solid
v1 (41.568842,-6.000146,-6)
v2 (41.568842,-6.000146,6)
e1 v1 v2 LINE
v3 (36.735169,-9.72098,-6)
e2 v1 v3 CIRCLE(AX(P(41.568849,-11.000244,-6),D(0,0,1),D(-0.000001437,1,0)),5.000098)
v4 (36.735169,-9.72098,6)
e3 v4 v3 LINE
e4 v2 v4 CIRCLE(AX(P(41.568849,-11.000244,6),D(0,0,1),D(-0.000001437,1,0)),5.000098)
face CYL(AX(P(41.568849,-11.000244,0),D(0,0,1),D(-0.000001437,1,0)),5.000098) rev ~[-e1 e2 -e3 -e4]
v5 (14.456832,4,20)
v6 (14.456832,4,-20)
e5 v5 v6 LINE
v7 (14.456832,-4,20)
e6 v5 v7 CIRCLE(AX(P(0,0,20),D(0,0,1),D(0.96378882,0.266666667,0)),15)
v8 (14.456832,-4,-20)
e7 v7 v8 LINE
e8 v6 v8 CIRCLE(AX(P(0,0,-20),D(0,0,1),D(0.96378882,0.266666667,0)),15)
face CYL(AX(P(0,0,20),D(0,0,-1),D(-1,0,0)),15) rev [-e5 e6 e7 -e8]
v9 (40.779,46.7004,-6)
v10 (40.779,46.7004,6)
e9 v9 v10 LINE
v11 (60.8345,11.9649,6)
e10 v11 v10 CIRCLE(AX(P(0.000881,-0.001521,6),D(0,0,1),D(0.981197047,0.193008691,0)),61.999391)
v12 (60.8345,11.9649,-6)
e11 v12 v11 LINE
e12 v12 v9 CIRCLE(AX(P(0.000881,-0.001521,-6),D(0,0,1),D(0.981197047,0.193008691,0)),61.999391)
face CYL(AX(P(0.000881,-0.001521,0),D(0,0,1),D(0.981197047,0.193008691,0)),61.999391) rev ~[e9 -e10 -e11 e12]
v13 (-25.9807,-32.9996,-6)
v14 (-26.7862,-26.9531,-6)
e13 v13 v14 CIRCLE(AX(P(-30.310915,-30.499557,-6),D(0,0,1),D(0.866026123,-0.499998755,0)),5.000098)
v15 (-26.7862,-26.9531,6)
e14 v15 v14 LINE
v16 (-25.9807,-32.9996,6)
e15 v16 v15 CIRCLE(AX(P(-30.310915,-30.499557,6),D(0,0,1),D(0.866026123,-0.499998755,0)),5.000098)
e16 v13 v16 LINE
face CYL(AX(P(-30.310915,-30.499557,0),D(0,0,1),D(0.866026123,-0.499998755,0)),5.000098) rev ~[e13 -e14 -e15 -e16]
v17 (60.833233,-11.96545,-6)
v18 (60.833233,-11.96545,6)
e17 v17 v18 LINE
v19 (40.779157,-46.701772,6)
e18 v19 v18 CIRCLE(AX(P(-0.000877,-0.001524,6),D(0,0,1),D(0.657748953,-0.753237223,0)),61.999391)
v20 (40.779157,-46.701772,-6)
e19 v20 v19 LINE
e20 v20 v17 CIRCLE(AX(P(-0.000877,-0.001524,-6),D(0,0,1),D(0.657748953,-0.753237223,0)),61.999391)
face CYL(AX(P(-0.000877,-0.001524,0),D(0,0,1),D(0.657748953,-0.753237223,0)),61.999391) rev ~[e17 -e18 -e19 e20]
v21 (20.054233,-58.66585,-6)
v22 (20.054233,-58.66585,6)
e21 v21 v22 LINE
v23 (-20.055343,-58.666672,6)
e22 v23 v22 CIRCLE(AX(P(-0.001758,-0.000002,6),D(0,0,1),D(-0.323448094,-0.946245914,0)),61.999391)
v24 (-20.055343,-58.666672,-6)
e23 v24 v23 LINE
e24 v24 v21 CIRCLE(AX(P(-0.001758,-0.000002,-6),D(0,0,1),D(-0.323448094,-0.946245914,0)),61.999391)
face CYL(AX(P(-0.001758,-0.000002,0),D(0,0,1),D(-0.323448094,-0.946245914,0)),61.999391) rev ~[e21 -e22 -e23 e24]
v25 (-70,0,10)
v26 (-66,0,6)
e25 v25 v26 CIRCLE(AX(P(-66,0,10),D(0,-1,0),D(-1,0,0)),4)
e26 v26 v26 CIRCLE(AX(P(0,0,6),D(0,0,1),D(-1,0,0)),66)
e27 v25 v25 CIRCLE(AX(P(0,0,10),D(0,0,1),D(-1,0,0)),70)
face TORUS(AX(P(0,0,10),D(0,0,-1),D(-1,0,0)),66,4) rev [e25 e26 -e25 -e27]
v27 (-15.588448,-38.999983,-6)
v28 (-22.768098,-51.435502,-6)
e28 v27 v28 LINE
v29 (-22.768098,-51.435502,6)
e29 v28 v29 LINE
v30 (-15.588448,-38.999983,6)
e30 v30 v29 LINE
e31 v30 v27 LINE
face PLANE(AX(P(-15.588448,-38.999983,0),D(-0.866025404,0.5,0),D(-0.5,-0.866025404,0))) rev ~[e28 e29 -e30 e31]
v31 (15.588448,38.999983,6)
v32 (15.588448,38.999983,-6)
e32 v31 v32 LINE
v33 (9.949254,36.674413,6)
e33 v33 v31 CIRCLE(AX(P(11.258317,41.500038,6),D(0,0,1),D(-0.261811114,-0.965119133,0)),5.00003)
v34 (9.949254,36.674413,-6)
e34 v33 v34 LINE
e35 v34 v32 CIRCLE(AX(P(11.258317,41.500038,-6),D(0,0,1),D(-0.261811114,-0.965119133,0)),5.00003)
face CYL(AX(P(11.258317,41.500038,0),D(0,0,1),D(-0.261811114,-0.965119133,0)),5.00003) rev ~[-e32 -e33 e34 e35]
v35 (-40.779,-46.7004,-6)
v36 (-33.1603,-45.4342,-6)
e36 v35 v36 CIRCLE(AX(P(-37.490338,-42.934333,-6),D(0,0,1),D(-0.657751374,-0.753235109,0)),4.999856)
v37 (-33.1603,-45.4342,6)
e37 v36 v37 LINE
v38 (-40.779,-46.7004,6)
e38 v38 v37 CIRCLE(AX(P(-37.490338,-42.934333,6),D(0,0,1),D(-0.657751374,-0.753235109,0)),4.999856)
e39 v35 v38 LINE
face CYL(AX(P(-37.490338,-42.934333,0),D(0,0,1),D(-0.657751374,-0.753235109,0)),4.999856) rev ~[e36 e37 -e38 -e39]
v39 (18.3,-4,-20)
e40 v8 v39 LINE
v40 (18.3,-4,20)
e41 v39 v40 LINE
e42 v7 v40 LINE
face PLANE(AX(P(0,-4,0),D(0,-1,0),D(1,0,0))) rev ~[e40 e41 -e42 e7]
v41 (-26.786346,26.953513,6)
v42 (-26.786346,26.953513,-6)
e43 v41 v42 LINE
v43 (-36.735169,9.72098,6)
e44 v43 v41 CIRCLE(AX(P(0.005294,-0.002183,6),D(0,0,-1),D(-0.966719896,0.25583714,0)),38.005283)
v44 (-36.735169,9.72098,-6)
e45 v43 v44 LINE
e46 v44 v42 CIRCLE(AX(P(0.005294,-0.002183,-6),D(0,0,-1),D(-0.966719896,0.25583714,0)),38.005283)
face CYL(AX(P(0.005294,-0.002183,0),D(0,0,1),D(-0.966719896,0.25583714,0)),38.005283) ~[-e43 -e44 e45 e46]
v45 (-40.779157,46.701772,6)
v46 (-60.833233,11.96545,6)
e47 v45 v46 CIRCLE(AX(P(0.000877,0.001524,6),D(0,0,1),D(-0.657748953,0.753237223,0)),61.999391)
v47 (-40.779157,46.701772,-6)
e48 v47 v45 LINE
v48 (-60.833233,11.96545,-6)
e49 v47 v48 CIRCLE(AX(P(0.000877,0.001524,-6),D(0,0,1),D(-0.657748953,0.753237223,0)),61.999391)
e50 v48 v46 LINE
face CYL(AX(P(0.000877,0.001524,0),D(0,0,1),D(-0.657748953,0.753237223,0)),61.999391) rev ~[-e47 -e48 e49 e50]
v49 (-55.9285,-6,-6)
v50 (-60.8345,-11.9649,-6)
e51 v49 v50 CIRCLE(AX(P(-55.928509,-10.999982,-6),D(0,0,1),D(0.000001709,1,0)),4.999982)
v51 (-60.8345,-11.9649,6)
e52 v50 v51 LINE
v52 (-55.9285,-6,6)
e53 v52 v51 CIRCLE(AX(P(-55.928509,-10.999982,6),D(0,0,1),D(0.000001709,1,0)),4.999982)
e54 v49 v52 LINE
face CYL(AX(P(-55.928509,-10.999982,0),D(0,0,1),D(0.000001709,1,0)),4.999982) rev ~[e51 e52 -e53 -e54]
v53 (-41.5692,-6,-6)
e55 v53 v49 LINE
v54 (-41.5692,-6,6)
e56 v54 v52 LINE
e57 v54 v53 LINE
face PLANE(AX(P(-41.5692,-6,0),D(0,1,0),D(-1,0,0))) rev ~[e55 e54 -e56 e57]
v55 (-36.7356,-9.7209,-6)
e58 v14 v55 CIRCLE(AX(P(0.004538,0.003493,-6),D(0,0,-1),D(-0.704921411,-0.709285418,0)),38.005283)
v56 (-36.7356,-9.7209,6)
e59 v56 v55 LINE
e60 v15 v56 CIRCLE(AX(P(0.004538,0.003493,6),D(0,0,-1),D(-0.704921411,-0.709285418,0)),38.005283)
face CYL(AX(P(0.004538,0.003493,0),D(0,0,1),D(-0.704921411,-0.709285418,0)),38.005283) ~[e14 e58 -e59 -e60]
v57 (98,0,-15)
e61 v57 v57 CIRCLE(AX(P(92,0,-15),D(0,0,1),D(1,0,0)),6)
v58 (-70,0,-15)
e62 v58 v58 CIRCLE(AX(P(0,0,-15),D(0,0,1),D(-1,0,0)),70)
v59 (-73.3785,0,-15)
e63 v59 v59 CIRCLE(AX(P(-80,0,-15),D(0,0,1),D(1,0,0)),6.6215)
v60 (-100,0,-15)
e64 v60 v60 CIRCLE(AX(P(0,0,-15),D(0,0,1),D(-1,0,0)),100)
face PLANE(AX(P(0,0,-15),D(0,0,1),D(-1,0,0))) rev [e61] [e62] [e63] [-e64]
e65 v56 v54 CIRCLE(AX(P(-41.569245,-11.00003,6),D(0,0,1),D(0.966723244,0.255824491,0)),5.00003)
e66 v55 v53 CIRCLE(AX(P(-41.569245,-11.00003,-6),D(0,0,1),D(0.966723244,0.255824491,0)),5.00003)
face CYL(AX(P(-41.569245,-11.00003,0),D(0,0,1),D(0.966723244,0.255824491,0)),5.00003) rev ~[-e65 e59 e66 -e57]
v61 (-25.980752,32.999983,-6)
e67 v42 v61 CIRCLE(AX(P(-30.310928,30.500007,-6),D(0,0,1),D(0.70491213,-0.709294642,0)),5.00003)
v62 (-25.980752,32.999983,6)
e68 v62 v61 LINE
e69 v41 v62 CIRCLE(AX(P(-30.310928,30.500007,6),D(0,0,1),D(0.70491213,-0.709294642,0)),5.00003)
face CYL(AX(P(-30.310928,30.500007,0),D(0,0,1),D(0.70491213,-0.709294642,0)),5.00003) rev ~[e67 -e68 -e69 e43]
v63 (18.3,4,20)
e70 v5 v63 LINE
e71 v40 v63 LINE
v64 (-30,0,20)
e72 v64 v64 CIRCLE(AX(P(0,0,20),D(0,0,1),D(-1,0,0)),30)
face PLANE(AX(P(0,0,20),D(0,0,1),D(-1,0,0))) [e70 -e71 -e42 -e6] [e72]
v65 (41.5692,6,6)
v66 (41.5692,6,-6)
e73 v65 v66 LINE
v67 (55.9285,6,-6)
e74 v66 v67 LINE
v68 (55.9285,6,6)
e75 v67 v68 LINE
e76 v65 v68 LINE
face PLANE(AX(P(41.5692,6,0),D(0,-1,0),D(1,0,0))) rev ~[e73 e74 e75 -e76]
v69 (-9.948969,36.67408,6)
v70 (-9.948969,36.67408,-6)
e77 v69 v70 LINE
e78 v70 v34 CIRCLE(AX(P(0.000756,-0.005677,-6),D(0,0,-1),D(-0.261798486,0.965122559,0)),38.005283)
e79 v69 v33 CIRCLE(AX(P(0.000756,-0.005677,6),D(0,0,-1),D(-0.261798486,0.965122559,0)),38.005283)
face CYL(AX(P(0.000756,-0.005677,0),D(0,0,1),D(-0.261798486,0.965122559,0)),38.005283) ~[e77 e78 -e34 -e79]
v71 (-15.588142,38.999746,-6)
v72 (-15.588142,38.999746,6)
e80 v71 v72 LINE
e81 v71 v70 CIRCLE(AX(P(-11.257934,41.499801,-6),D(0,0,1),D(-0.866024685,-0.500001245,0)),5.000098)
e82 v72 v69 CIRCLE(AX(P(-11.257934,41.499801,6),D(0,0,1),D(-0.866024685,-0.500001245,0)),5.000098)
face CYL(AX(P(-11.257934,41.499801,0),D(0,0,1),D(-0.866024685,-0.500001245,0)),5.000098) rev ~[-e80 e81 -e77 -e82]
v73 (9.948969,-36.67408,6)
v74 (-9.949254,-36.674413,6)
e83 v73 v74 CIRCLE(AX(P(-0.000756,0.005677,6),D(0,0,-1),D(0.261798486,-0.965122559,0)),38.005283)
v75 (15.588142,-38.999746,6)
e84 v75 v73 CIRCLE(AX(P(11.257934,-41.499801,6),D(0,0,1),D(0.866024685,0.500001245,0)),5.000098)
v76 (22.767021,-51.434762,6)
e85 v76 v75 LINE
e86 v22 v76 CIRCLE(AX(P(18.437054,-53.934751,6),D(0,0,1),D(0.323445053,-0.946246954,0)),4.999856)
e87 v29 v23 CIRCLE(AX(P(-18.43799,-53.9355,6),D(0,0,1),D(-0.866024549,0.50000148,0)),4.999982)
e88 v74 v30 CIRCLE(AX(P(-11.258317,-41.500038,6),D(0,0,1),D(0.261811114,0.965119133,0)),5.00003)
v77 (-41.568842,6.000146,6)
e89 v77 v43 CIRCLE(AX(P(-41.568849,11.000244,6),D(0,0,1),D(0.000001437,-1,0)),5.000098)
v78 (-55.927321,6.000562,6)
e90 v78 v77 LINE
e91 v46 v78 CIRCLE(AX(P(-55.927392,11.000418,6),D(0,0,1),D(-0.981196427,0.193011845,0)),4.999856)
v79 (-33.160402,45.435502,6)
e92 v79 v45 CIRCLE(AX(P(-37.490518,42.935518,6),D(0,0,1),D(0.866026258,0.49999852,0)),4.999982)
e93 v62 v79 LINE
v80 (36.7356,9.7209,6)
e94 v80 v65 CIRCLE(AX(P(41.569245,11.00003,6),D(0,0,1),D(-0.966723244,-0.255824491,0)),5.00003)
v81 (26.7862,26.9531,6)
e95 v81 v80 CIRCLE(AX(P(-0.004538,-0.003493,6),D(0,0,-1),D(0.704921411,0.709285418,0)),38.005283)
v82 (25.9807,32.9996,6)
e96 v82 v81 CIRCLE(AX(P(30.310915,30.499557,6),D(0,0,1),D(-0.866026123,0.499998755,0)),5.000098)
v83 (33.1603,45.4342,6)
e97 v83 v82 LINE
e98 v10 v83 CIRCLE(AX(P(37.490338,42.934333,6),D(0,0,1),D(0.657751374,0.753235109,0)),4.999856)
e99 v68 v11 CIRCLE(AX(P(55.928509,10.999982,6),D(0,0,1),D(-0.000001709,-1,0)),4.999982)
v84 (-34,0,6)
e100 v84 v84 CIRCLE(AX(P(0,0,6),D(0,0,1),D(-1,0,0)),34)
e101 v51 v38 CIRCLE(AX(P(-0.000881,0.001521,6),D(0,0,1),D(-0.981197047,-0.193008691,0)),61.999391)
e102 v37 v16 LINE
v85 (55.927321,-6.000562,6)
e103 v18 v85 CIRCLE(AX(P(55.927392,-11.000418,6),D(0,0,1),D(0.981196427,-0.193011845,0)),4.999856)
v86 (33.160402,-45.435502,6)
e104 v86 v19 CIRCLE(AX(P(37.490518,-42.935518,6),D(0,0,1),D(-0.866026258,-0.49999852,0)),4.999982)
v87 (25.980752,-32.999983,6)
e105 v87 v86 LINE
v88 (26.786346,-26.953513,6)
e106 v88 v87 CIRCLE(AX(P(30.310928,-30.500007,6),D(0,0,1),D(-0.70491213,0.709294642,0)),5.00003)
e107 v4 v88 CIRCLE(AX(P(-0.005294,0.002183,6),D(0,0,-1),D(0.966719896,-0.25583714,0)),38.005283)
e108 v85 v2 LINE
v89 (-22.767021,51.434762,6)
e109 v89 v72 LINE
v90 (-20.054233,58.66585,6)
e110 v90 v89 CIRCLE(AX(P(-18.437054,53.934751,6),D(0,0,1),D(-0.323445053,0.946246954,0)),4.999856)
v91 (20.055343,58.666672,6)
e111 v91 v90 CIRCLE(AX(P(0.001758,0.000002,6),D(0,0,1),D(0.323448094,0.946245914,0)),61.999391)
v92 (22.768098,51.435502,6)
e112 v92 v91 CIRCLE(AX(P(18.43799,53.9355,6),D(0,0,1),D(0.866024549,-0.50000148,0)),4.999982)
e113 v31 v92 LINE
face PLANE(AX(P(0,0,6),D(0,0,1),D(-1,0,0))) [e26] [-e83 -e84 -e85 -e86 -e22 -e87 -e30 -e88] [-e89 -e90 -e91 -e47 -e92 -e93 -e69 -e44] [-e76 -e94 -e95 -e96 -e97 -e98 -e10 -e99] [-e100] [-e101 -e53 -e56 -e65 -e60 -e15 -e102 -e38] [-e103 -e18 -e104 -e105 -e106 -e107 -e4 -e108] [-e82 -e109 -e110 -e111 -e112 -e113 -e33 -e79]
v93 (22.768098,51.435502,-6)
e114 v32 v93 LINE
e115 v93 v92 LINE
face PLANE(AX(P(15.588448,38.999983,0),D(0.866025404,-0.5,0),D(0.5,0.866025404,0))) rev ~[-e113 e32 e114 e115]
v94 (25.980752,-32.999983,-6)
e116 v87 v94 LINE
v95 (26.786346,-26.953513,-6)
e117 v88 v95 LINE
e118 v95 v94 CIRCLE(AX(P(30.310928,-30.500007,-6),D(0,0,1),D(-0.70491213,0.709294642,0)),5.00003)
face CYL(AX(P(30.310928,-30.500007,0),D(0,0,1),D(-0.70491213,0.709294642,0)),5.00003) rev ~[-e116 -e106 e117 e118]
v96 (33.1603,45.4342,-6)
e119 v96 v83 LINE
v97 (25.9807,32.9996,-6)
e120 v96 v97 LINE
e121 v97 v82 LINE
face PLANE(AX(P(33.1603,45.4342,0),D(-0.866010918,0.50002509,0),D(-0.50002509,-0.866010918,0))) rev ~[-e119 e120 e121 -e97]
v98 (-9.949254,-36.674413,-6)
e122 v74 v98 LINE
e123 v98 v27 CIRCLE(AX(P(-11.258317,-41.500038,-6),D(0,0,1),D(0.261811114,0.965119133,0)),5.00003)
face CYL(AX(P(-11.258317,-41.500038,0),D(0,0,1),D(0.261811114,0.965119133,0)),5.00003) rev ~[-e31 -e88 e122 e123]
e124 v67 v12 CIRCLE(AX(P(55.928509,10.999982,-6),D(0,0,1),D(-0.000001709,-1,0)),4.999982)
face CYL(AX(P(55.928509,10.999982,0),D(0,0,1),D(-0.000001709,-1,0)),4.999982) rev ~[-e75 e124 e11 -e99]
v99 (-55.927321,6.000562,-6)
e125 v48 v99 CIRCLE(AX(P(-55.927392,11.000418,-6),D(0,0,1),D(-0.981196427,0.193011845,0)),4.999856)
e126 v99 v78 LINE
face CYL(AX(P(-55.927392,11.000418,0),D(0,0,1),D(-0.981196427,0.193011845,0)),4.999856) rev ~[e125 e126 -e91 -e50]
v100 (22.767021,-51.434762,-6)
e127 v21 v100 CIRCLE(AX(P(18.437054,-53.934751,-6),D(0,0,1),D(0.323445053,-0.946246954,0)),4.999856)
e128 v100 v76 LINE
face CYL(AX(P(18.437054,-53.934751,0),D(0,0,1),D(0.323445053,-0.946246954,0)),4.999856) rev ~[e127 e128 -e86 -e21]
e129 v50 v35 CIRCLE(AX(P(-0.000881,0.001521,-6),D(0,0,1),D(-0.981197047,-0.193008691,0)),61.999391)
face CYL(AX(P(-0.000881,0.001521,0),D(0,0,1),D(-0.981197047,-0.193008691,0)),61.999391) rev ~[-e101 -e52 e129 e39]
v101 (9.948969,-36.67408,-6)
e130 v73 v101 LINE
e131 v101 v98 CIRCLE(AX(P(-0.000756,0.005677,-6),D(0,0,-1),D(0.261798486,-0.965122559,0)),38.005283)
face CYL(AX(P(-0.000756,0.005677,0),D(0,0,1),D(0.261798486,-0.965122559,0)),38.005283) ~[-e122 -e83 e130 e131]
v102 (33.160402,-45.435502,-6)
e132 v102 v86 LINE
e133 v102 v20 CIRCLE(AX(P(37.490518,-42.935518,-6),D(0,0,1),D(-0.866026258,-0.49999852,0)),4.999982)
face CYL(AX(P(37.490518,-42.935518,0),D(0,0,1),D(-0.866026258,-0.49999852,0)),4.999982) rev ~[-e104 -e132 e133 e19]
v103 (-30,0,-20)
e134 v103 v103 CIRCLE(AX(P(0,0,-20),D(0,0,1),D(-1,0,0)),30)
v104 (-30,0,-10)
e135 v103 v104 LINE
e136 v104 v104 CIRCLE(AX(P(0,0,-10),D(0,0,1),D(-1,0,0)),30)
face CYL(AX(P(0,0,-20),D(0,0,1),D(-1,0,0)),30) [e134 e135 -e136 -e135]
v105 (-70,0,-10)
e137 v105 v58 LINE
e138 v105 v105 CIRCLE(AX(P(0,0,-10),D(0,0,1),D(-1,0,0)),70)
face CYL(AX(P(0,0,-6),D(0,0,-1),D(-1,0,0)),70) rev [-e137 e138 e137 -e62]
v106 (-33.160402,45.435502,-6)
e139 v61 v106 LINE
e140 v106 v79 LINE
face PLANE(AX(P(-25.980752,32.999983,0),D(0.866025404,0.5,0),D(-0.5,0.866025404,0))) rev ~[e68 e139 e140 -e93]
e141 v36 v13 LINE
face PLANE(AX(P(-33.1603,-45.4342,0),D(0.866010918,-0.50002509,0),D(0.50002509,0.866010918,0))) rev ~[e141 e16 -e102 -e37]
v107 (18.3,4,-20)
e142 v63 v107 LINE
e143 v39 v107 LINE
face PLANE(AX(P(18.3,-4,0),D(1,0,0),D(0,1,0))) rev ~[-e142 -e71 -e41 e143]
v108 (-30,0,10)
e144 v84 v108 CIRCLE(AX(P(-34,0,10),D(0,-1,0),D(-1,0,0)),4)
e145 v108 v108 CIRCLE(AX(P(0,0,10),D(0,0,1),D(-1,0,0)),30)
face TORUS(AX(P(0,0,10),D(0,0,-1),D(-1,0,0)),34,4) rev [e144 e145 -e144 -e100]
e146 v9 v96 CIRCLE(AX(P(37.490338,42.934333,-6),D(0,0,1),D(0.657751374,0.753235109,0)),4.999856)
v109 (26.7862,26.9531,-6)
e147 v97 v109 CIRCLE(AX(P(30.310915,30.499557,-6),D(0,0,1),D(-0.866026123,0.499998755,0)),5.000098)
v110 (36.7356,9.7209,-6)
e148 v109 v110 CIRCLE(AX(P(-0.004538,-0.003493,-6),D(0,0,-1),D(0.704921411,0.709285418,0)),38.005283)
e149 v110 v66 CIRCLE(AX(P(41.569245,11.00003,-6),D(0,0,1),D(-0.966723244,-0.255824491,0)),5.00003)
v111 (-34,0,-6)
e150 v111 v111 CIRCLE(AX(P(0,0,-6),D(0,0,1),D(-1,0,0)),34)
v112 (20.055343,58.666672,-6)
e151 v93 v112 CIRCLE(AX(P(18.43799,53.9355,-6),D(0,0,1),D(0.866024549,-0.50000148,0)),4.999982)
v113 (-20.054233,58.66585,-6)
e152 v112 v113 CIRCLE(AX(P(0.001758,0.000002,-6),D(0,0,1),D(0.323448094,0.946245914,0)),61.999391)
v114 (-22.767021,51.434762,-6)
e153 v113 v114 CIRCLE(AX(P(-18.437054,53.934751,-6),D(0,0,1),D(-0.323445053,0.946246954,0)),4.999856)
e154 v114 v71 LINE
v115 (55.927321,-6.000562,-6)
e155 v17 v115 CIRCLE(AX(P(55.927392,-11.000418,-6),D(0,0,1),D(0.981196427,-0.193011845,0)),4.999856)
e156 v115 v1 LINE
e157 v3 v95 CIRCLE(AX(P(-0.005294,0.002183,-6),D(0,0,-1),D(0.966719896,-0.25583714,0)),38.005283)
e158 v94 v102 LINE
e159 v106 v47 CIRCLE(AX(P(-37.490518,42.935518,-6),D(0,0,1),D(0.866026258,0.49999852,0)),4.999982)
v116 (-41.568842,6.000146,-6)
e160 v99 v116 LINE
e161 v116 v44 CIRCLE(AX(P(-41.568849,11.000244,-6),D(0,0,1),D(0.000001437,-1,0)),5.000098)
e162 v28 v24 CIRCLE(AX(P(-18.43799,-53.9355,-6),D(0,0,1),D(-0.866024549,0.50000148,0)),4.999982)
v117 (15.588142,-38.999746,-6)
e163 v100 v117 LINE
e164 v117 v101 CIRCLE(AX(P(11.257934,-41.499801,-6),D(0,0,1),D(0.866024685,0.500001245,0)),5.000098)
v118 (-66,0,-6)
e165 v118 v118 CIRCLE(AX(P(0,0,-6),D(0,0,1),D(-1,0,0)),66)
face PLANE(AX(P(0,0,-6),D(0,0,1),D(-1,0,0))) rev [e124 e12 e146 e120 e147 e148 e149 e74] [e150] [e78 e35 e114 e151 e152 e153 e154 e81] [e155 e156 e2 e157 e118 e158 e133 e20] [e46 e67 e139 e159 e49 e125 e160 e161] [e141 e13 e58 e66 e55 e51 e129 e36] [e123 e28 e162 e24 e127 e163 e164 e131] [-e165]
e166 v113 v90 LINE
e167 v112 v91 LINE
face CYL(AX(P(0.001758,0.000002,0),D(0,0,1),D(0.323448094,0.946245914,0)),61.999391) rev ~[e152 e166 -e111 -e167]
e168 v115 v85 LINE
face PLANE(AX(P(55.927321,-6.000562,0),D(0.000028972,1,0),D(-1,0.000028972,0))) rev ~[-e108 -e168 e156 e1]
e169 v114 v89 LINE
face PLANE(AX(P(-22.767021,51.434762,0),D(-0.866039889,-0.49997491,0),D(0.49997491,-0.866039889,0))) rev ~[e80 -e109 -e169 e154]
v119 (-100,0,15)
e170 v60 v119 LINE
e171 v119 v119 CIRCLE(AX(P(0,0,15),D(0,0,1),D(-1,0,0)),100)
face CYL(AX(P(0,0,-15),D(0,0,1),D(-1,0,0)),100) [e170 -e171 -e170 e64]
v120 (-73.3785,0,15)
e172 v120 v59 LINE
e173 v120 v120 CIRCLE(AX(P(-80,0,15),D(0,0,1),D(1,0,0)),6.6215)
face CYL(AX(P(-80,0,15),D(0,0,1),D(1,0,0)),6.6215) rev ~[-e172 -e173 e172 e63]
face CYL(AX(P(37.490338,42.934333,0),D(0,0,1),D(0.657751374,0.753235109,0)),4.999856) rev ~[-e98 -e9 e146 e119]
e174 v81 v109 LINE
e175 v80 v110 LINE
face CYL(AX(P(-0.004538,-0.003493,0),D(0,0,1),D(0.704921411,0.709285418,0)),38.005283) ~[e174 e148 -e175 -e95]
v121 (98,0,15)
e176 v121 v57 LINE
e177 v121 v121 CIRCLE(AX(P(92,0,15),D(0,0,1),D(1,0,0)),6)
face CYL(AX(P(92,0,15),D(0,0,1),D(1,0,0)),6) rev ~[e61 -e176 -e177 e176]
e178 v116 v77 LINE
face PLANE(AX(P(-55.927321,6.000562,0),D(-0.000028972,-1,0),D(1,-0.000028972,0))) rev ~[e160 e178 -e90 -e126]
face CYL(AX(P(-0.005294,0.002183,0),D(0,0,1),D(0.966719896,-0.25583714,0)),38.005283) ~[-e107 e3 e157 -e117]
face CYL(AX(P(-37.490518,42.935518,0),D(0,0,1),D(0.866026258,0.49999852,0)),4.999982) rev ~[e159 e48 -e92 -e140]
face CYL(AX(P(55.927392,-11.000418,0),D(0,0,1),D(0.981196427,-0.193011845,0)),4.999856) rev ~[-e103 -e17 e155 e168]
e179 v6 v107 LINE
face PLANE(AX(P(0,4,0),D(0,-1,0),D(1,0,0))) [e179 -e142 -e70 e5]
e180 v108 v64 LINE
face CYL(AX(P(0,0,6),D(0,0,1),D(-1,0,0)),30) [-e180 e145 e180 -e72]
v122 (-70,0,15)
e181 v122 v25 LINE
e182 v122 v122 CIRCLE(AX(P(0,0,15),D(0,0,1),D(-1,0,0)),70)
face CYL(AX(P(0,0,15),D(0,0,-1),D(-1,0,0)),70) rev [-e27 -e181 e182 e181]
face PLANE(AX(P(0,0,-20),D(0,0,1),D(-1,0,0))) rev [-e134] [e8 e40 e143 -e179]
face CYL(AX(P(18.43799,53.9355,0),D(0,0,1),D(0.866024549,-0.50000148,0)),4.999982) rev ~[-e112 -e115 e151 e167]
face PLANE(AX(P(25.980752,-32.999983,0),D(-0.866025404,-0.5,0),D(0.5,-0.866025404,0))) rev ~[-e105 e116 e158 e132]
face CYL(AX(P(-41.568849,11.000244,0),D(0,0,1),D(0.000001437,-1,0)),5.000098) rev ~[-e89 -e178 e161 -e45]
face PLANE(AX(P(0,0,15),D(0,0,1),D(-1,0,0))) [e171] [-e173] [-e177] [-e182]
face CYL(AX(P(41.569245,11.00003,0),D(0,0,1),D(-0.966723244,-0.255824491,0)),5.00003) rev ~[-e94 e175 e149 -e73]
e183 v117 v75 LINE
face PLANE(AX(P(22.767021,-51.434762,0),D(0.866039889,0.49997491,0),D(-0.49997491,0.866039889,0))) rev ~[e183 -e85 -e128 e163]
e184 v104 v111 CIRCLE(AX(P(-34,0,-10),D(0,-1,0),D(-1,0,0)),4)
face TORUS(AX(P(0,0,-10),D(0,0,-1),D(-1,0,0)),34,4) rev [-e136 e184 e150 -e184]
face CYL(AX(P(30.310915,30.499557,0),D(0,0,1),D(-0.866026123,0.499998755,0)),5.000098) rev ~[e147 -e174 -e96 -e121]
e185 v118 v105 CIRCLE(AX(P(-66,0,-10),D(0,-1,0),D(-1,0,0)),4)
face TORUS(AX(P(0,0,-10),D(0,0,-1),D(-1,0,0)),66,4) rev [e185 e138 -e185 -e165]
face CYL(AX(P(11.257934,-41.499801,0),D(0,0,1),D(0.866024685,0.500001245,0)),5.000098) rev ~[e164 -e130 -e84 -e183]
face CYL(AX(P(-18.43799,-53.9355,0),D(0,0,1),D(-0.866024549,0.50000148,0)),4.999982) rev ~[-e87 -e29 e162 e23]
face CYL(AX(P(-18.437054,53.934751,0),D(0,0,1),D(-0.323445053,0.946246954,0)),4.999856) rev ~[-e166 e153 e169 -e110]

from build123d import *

# Parameters (mm, degrees)
FILLET_1_R               = 4
CUT_EXTRUDE_3_DEPTH      = 6
PATTERN_CIRCULAR_2_COUNT = 6
SKETCH_5_W               = 18.3
SKETCH_5_H               = 8
CUT_EXTRUDE_4_DEPTH      = 20
SKETCH_6_R               = 6
CUT_EXTRUDE_5_DEPTH      = 146.688022843
SKETCH_7_R               = 6.6215
CUT_EXTRUDE_6_DEPTH      = 146.688022843


with BuildPart() as part:
    # 草图1 → 旋转1 (revolve)
    with BuildSketch(Plane(origin=(0, 0, 0), x_dir=(1, 0, 0), z_dir=(0, 1, 0))):
        Polygon((15, 20), (30, 20), (30, 6), (70, 6), (70, 15), (100, 15), (100, -15), (70, -15), (70, -6), (30, -6), (30, -20), (15, -20), align=None)
    revolve(axis=Axis((0, 0, -20), (0, 0, 1)))

    # 圆角1
    fillet_1_edges = [part.edges().sort_by_distance(p)[0] for p in [
        (-70, 0, -6),
        (-70, 0, 6),
        (-30, 0, -6),
        (-30, 0, 6),
    ]]
    fillet(fillet_1_edges, radius=FILLET_1_R)

    # 草图4 → 切除-拉伸3 (cut, symmetric)
    with BuildSketch(Plane.XY):
        with BuildLine():
            Line((41.5692, 6), (55.9285, 6))
            ThreePointArc((55.9285, 6), (59.790137098, 7.823876746), (60.8345, 11.9649))
            ThreePointArc((60.8345, 11.9649), (53.693292616, 30.999275079), (40.779, 46.7004))
            ThreePointArc((40.779, 46.7004), (36.670623538, 47.866536224), (33.1603, 45.4342))
            Line((33.1603, 45.4342), (25.9807, 32.9996))
            ThreePointArc((25.9807, 32.9996), (25.354603735, 29.839289607), (26.7862, 26.9531))
            ThreePointArc((26.7862, 26.9531), (32.908684734, 18.999699449), (36.7356, 9.7209))
            ThreePointArc((36.7356, 9.7209), (38.519259186, 7.037974406), (41.5692, 6))
        make_face()
    cut_extrude_3 = extrude(amount=CUT_EXTRUDE_3_DEPTH, both=True, mode=Mode.SUBTRACT)

    # 阵列(圆周)2: 切除-拉伸3 ×6 about axis
    pattern_circular_2_axis = Axis((0, 0, 22), (0, 0, -1))
    for i in range(1, PATTERN_CIRCULAR_2_COUNT):
        add(cut_extrude_3.rotate(pattern_circular_2_axis, i * 360 / PATTERN_CIRCULAR_2_COUNT), mode=Mode.SUBTRACT)

    # 草图5 → 切除-拉伸4 (cut, symmetric)
    with BuildSketch(Plane.XY):
        with Locations((9.15, 0)):
            Rectangle(SKETCH_5_W, SKETCH_5_H)
    extrude(amount=CUT_EXTRUDE_4_DEPTH, both=True, mode=Mode.SUBTRACT)

    # 草图6 → 切除-拉伸5 (cut, through all)
    with BuildSketch(Plane.XY.offset(15)):
        with Locations((92, 0)):
            Circle(SKETCH_6_R)
    extrude(amount=-CUT_EXTRUDE_5_DEPTH, mode=Mode.SUBTRACT)

    # 草图7 → 切除-拉伸6 (cut, through all)
    with BuildSketch(Plane.XY.offset(15)):
        with Locations((-80, 0)):
            Circle(SKETCH_7_R)
    extrude(amount=-CUT_EXTRUDE_6_DEPTH, mode=Mode.SUBTRACT)


solid = part.part
